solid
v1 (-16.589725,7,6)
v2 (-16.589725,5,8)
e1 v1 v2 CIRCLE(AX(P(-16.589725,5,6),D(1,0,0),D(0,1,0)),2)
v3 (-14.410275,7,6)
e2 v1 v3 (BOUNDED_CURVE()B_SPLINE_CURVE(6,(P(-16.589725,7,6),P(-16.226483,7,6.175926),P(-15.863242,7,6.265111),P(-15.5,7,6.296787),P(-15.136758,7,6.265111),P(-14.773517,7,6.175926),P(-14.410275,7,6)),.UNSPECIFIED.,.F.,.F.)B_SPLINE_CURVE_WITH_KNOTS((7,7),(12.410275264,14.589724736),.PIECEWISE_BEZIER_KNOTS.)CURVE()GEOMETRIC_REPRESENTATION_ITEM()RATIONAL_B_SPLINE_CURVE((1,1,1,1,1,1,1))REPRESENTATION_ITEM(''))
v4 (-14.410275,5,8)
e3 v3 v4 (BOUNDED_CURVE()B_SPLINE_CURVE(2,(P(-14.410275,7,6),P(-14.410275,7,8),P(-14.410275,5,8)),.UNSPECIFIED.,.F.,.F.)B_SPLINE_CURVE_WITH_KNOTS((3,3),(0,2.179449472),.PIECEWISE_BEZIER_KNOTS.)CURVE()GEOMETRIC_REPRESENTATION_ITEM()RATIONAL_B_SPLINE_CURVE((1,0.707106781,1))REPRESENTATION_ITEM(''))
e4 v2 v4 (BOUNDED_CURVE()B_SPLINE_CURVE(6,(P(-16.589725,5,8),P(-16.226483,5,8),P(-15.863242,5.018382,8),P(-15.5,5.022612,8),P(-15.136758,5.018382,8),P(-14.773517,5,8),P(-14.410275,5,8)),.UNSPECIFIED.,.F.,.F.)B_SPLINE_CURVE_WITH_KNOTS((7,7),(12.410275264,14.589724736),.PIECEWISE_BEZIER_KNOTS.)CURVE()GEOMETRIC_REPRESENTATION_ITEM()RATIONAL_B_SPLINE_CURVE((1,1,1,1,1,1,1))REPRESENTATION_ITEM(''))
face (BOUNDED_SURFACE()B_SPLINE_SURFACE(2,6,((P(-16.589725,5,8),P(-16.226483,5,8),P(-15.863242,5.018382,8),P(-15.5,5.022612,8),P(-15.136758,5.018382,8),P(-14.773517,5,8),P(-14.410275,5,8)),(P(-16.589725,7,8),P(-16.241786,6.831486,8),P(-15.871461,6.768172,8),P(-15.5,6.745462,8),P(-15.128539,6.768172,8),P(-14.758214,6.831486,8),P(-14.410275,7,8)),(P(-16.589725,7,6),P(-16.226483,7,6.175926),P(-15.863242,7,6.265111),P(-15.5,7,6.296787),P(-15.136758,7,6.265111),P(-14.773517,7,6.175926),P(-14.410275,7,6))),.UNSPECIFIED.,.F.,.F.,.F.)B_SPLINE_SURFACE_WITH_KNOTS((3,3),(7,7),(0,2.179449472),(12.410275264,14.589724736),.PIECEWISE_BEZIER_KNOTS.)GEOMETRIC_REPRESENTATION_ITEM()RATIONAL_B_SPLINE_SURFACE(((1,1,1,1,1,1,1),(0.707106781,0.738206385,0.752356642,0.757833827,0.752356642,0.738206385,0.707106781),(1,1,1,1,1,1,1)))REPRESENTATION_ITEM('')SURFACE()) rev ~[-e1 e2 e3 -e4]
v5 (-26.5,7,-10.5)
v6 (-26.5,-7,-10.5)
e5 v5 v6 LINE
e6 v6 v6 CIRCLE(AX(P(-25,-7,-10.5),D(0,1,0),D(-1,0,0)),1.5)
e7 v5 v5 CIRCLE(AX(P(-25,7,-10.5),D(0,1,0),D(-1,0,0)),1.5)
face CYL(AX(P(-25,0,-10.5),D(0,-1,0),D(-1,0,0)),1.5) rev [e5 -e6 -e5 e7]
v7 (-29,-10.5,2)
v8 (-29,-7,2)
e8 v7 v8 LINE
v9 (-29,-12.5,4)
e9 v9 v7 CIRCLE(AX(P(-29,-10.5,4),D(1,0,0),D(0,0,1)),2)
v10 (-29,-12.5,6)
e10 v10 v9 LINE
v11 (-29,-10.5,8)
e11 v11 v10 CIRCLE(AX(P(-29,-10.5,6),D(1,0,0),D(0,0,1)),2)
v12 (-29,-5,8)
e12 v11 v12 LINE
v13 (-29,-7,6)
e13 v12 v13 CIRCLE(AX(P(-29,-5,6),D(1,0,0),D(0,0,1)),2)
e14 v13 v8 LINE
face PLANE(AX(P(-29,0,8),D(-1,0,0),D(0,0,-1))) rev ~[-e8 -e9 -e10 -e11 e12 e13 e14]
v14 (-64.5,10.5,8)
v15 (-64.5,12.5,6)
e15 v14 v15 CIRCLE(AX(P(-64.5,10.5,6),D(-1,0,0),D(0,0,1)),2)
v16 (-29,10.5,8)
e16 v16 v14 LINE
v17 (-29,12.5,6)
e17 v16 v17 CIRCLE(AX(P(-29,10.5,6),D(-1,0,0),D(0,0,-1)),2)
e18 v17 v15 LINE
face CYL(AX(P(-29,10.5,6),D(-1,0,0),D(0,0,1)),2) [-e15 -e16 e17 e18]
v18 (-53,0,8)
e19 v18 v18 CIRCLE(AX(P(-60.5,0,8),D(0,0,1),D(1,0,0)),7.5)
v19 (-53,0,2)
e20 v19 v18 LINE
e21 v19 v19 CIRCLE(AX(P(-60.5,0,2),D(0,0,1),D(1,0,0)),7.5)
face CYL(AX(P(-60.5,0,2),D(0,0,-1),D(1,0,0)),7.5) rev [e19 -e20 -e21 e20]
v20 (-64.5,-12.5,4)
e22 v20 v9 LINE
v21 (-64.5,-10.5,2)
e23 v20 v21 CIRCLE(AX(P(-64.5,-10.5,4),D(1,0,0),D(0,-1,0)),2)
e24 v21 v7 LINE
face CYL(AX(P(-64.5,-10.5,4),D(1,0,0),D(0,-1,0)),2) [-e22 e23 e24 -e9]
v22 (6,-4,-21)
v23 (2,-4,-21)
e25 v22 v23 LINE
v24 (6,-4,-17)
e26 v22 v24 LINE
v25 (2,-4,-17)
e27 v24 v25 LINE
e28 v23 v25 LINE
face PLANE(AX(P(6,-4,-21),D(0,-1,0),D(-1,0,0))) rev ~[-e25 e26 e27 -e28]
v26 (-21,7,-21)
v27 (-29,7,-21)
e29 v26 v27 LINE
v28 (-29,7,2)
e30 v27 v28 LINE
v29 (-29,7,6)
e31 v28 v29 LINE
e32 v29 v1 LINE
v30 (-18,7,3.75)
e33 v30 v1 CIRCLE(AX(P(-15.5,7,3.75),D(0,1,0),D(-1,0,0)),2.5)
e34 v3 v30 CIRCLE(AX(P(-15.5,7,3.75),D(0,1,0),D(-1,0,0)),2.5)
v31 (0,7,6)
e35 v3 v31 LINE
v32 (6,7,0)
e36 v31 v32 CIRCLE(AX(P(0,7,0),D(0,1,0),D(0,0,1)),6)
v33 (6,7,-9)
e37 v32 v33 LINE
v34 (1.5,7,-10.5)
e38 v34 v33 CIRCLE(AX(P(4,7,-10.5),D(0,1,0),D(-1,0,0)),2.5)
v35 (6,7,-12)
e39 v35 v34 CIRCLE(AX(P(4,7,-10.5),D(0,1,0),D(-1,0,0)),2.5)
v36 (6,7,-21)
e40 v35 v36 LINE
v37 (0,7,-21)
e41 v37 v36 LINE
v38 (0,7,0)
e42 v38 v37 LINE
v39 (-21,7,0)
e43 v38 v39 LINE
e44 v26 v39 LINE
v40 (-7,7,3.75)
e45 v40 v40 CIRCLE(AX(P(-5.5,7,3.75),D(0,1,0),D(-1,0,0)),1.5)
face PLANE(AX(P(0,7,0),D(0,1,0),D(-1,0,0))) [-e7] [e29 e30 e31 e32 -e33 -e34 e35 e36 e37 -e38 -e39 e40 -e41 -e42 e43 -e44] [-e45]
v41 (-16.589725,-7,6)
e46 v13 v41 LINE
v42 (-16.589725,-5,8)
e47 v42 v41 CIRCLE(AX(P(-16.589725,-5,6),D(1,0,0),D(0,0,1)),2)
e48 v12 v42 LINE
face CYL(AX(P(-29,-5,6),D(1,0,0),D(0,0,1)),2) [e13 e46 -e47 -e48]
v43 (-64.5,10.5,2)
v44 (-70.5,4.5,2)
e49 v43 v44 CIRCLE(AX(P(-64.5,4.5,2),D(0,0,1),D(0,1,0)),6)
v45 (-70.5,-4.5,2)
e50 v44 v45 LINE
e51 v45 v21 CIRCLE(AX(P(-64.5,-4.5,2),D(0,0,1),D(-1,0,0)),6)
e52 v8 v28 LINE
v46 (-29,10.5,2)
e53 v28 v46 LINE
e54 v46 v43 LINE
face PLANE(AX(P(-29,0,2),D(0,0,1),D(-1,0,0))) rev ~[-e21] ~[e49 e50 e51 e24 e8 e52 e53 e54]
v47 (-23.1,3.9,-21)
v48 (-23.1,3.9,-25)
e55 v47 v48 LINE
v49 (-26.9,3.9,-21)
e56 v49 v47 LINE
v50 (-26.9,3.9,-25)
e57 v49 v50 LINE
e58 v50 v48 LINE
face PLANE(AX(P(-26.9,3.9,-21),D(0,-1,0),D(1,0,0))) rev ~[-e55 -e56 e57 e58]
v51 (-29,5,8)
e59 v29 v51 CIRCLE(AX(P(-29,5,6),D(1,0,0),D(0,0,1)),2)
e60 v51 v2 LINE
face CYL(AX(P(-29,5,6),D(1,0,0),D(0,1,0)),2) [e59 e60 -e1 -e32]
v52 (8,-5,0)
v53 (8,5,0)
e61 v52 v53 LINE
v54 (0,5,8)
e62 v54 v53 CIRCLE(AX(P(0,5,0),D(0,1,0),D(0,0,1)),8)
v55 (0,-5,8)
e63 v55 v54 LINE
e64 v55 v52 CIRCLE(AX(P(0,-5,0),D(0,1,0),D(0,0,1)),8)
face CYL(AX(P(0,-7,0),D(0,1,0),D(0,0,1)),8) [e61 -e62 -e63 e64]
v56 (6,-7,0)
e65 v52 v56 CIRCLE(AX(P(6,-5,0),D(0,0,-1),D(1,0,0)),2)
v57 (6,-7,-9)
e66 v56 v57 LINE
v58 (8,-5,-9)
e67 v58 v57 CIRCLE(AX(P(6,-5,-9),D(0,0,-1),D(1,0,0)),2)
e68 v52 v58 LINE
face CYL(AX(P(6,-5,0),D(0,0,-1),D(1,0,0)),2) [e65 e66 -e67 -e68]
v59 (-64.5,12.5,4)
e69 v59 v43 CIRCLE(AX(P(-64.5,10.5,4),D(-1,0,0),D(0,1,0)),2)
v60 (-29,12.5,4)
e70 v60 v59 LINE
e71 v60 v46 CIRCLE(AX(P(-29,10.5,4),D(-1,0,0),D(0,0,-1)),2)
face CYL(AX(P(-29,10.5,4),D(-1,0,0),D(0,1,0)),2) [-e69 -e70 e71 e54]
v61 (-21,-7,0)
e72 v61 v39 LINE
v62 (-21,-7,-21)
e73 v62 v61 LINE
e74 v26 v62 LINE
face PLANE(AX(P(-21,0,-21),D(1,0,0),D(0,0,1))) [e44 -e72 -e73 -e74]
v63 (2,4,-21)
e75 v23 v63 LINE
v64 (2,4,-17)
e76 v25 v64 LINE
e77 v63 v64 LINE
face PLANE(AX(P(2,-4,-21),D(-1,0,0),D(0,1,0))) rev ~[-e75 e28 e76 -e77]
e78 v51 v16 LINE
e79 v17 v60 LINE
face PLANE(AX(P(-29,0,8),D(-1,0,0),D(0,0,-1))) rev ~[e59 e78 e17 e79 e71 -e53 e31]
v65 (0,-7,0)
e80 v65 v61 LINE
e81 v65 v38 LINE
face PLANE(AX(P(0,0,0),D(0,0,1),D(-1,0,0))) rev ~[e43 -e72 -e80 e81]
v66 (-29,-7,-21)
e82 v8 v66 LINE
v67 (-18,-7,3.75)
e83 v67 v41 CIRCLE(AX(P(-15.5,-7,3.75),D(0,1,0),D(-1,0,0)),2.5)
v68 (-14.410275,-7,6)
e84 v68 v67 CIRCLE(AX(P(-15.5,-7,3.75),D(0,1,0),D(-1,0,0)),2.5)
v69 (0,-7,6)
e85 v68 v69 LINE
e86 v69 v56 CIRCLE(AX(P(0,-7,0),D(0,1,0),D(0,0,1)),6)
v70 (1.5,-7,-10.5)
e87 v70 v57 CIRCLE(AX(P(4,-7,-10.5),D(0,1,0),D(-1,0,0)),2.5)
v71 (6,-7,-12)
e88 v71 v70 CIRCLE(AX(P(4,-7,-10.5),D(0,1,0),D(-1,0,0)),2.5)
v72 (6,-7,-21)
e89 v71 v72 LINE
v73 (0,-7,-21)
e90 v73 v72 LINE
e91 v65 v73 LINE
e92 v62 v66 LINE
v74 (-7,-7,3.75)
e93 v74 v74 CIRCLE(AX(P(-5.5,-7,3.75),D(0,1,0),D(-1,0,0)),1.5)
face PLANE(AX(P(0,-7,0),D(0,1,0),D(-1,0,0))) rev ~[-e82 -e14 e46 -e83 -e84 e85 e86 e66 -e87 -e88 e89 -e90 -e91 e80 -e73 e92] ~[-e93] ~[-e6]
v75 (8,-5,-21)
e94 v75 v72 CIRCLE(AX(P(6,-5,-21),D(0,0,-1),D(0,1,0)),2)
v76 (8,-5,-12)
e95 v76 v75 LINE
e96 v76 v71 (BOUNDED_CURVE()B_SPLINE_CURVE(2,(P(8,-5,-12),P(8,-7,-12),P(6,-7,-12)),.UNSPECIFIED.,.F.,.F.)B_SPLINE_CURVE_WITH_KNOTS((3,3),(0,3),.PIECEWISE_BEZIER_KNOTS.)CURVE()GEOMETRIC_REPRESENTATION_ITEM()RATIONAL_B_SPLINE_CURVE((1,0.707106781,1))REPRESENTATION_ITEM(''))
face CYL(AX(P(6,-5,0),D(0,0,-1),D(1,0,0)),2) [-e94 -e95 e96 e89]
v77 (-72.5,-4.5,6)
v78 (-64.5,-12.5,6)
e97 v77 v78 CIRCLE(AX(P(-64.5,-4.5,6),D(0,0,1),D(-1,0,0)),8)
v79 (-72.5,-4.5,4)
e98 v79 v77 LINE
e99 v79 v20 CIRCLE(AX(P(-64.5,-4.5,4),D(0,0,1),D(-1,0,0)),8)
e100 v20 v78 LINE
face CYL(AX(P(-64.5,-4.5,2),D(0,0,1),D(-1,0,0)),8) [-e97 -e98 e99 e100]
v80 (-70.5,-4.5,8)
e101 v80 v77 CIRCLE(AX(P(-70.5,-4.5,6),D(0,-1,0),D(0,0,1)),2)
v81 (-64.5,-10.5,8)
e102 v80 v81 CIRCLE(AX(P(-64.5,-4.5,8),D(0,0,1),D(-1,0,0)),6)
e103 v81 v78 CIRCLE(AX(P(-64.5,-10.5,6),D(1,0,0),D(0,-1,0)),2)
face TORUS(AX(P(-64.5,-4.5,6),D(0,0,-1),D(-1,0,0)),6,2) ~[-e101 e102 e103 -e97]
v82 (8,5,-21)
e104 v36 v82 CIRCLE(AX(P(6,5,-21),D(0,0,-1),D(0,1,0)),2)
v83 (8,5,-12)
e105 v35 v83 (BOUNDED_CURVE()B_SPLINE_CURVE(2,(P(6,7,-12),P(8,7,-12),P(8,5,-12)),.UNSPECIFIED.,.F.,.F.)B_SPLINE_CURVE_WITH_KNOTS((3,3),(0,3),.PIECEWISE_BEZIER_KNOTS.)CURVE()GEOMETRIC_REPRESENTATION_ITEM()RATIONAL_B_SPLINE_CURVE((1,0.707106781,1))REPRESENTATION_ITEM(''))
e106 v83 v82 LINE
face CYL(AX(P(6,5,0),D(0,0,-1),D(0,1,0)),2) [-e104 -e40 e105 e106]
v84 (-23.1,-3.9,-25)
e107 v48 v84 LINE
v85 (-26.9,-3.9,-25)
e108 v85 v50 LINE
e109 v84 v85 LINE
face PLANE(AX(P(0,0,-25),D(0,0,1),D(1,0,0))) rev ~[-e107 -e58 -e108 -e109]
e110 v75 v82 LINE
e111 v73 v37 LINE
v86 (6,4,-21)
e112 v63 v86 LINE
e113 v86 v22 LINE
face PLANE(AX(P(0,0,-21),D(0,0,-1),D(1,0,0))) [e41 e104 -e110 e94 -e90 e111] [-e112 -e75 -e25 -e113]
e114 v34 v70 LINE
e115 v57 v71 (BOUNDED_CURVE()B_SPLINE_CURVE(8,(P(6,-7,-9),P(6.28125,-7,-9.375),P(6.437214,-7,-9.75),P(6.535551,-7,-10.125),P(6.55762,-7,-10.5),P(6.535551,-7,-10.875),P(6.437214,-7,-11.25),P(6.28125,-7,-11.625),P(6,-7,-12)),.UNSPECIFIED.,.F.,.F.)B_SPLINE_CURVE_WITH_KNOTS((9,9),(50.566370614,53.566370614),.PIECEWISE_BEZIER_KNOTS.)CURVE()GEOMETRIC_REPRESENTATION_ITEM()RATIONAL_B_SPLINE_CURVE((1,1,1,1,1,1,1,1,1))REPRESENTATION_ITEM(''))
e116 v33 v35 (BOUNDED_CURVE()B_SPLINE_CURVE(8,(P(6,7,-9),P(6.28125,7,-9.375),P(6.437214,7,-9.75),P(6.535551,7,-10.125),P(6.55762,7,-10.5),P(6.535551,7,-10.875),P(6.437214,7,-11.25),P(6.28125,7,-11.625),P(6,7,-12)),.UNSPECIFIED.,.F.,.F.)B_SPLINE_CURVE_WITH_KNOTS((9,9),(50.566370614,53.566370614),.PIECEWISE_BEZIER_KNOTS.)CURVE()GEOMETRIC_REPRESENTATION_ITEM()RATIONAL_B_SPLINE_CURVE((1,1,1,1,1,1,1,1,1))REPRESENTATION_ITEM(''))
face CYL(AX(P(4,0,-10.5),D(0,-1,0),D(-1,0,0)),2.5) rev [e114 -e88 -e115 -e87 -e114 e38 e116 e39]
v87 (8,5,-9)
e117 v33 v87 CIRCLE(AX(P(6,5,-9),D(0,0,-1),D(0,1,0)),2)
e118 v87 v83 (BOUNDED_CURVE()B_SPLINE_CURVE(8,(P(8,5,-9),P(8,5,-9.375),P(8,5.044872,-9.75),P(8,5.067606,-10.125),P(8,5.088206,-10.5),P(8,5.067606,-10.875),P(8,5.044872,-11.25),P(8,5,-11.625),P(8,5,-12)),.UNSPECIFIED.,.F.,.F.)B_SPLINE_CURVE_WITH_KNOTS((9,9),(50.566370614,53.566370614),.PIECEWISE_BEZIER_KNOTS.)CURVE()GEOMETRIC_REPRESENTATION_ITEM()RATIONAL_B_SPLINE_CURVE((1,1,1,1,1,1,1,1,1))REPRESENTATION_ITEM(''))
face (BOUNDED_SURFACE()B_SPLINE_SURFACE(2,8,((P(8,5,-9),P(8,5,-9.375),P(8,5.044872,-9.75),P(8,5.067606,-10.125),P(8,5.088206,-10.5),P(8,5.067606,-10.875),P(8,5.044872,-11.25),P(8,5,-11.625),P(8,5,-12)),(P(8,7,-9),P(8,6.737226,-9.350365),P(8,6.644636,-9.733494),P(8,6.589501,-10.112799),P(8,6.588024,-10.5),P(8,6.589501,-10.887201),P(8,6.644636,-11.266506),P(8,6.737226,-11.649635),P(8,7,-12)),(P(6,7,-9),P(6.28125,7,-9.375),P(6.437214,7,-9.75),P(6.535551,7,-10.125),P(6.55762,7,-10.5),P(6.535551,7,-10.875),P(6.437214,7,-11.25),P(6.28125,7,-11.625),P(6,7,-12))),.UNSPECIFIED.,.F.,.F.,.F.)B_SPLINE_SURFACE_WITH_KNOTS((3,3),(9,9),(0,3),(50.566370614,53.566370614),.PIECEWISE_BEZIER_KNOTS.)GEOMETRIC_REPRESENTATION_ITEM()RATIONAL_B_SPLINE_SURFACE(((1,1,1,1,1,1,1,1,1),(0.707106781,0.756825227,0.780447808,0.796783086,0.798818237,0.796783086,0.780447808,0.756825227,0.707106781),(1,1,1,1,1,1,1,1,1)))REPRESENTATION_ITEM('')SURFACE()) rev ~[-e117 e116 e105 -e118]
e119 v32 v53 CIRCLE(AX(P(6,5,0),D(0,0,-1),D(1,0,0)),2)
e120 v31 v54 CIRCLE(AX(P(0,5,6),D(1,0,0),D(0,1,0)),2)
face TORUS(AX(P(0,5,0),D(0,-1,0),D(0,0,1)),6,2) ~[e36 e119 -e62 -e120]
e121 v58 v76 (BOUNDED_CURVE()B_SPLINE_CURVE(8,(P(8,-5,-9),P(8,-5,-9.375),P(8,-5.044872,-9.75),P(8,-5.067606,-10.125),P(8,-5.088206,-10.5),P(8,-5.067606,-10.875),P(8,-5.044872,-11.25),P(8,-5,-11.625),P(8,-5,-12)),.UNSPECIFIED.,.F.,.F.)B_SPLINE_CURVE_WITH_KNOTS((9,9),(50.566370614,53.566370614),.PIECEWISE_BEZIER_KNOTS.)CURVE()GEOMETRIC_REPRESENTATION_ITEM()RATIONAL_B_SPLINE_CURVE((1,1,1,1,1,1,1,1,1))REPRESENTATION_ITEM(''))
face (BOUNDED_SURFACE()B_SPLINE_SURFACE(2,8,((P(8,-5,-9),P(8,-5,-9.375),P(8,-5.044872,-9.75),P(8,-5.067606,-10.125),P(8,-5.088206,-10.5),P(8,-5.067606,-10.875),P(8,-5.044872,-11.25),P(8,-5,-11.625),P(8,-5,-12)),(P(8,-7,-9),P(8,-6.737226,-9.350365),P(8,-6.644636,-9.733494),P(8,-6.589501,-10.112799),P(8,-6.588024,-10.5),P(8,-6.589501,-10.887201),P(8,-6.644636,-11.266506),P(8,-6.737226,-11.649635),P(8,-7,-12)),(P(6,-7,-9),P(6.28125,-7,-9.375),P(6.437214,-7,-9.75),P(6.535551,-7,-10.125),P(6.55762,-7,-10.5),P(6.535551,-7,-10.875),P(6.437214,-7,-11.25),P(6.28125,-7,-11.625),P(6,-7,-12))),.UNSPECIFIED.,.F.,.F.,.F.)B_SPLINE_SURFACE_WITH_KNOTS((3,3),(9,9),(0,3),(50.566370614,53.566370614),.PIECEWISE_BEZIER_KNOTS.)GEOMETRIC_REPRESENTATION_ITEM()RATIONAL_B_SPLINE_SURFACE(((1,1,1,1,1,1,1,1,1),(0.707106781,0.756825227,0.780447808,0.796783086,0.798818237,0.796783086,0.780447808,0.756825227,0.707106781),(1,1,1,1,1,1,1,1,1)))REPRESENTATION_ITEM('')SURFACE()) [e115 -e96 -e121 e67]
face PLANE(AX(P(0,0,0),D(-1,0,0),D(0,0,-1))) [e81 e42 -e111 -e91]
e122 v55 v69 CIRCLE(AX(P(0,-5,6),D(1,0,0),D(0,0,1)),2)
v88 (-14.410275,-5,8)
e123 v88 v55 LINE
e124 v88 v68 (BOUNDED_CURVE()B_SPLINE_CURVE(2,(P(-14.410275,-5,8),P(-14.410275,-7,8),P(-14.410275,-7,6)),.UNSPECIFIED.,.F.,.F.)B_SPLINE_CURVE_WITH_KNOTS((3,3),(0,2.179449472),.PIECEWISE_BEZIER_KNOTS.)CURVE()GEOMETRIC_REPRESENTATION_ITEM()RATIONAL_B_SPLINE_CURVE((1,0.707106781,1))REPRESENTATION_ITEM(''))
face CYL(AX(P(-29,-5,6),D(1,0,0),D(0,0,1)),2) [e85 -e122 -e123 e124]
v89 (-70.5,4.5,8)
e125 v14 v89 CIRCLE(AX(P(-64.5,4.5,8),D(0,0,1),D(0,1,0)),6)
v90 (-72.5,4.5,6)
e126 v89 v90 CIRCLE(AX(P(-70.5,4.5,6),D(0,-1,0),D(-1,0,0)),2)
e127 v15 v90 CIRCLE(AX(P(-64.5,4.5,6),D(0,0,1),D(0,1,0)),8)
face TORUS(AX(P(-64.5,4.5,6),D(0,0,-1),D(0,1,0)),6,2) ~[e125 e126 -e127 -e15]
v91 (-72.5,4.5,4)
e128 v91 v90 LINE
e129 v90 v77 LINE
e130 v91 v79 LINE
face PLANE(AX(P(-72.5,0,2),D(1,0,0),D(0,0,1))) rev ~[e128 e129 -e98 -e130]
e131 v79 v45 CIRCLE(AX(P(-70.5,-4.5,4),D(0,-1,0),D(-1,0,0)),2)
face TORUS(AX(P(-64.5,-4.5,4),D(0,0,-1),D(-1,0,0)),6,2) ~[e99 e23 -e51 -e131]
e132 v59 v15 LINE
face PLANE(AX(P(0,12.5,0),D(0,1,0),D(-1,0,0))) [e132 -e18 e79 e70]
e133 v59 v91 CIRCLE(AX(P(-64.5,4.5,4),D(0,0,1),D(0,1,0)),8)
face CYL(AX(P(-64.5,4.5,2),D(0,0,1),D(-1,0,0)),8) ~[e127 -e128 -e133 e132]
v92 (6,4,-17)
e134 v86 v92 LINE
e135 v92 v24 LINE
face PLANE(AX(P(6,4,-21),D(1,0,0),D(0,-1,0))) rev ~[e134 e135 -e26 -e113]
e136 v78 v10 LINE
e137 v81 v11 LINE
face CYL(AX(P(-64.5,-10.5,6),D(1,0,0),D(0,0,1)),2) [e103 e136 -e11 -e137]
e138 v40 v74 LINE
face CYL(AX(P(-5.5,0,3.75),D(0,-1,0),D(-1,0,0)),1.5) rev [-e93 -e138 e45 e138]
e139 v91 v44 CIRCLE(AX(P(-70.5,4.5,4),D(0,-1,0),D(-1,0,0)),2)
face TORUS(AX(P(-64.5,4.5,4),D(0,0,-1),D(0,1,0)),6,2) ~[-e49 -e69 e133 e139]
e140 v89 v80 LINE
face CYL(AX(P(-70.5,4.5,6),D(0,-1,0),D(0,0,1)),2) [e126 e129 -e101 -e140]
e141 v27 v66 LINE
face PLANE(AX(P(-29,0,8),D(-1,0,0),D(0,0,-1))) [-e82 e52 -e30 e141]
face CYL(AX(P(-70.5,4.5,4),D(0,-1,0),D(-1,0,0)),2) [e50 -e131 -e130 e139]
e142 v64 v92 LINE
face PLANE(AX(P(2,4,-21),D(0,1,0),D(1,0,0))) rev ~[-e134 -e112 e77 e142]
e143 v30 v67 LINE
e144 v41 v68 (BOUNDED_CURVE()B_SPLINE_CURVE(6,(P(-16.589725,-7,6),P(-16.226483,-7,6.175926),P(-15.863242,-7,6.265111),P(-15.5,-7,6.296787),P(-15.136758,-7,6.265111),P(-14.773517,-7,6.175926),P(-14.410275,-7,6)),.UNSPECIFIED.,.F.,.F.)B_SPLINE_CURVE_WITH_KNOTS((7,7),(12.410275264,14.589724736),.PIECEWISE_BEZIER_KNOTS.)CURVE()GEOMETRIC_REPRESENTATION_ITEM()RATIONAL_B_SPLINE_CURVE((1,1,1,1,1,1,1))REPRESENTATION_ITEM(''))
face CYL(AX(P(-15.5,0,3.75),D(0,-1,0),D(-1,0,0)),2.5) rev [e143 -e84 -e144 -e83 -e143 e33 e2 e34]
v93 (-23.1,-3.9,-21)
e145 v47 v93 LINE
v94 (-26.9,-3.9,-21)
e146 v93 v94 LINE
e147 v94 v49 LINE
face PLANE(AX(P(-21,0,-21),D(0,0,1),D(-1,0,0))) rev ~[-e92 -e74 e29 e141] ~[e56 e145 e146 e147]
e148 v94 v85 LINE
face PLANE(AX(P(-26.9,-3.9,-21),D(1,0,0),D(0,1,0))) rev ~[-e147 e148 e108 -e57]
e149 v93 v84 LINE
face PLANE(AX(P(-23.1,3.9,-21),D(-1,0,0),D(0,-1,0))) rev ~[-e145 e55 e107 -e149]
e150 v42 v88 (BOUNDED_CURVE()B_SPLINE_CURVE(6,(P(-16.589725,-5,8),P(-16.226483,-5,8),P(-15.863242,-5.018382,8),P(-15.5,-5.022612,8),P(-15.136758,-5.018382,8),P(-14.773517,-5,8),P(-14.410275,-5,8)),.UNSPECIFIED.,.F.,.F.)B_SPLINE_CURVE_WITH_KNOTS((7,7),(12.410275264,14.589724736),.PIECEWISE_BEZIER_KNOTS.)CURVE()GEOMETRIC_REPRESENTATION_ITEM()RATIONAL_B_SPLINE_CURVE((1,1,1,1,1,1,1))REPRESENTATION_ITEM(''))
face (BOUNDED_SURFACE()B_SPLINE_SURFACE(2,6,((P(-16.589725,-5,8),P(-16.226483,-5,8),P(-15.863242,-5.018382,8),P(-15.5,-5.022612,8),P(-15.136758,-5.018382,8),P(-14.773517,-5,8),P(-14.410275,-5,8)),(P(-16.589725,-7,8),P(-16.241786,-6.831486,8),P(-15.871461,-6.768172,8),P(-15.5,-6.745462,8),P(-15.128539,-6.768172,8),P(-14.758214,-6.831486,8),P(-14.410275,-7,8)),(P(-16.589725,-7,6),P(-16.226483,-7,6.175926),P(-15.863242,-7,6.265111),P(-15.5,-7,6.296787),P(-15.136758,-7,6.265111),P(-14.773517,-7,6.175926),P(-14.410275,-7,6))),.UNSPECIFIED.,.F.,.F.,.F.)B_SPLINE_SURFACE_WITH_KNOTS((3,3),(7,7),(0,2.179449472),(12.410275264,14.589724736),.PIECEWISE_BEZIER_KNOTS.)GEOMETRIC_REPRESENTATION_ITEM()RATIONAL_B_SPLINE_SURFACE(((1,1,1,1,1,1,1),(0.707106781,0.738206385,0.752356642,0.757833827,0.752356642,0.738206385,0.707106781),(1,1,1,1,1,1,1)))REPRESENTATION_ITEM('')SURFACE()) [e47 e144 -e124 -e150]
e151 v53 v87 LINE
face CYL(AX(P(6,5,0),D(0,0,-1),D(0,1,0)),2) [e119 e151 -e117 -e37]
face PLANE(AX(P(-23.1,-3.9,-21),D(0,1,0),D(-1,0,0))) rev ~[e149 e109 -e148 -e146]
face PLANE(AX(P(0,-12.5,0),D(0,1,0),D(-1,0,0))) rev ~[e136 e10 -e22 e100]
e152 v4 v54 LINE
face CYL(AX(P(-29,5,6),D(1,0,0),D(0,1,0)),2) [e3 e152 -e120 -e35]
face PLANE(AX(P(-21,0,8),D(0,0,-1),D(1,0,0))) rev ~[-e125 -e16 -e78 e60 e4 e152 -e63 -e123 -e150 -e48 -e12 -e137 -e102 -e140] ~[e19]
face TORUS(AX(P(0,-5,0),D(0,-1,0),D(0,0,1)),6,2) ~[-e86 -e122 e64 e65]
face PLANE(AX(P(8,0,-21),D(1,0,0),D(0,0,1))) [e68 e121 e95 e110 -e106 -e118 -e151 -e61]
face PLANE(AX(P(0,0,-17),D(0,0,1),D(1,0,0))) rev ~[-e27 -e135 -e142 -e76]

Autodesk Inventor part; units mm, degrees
ref_plane "YZ Plane" through (0, 0, 0) normal (1, 0, 0) x (0, 1, 0)
sketch "Sketch1" plane through (0, 0, 0) normal (0, 1, 0) x (-1, 0, 0)
  line L0 (0, 0) -> (21, 0)
  circle A0 centre (5.5, 3.75) radius 1.5
  line L1 (29, 8) -> (-8, 8)
  line L2 (10.5, 8) -> (10.5, 0) construction
  line L3 (0, -21) -> (-8, -21)
  line L4 (29, 2) -> (72.5, 2)
  line L5 (72.5, 2) -> (72.5, 8)
  line L6 (72.5, 8) -> (29, 8)
  line L7 (29, 8) -> (29, 2)
  line L8 (21, 0) -> (21, 8)
  line L9 (0, 0) -> (0, 8)
  circle A1 centre (15.5, 3.75) radius 2.5
  line L10 (0, 0) -> (0, -21)
  line L11 (-8, -21) -> (-8, 8)
  line L12 (21, -21) -> (21, 0)
  line L13 (29, -21) -> (29, 2)
  line L14 (21, -21) -> (29, -21)
  circle A2 centre (-4, -10.5) radius 2.5
  circle A3 centre (25, -10.5) radius 1.5
  point P0 (29, 8)
  point P1 (21, 8)
  point P2 (-4, -21)
  dimension "d1" = 21
  dimension "d15" = 3.75
  dimension "d16" = 5
  dimension "d51" = 6
  dimension "d148" = 5
  dimension "d149" = 3.75
  dimension "d150" = 5
  dimension "d151" = 3
  dimension "d152" = 8
  dimension "d154" = 37
  dimension "d155" = 10.5
  dimension "d158" = 21
  dimension "d160" = 8
  dimension "d162" = 8
  dimension "d164" = 21
  dimension "d165" = 29
  dimension "d166" = 29
  dimension "d169" = 62
  dimension "d170" = 4
  dimension "d171" = 5
  dimension "d172" = 10.5
  dimension "d173" = 4
  dimension "d174" = 3
  dimension "d175" = 10.5
extrude "Extrusion1" add sketch "Sketch1" along normal mid plane 14 contours L9 L1 L8 L0 | L10 L3 L11 L1 L9 | L8 L1 L7 L13 L14 L12
extrude "Extrusion2" add sketch "Sketch1" along normal mid plane 25 contours L6 L5 L4 L7
fillet "Fillet4" radius 8 3 edges at (-72.5, 12.5, 5) (-72.5, -12.5, 5) (8, 0, 8)
ref_plane "Work Plane3" through (0, 0, 2) normal (0, 0, 1) x (1, 0, 0)
sketch "Sketch5" plane through (0, 0, 2) normal (0, 0, 1) x (1, 0, 0)
  line L0 (-29, -7) -> (-29, 7) projected
  circle A0 centre (-60.5, 0) radius 7.5
  line L1 (-21, -7) -> (0, -7) projected
  line L2 (-29, 12.5) -> (-64.5, 12.5) projected
  point P0 (0, 0)
  point P1 (-12.116, -8.0773)
  point P2 (-29, 0)
  point P3 (-10.5, -7)
  dimension "d195" = 15
  dimension "d196" = 50
  dimension "d197" = 12.5
extrude "Extrusion6" cut sketch "Sketch5" along normal blind 6
fillet "Fillet12" radius 2 13 edges at (-72.5, 0, 8) (-46.75, 12.5, 8) (-70.1569, -10.1569, 2) (-72.5, 0, 2) (-70.1569, 10.1569, 2) (-46.75, 12.5, 2) (-46.75, -12.5, 2) (5.6569, 7, 5.6569) (8, 7, -10.5) (-14.5, 7, 8) (5.6569, -7, 5.6569) (8, -7, -10.5) (-14.5, -7, 8)
ref_plane "Work Plane4" through (0, 0, -21) normal (0, 0, 1) x (1, 0, 0)
sketch "Sketch6" plane through (0, 0, -21) normal (0, 0, 1) x (1, 0, 0)
  line L0 (6, -4) -> (2, -4)
  line L1 (2, -4) -> (2, 4)
  line L2 (2, 4) -> (6, 4)
  line L3 (6, 4) -> (6, -4)
  line L4 (6, -4) -> (2, 4) construction
  line L5 (2, -4) -> (6, 4) construction
  line L6 (0, -7) -> (0, 7) projected
  line L7 (-23.1, -3.9) -> (-26.9, -3.9)
  line L8 (-26.9, -3.9) -> (-26.9, 3.9)
  line L9 (-26.9, 3.9) -> (-23.1, 3.9)
  line L10 (-23.1, 3.9) -> (-23.1, -3.9)
  line L11 (-23.1, -3.9) -> (-26.9, 3.9) construction
  line L12 (-26.9, -3.9) -> (-23.1, 3.9) construction
  line L13 (-21, -7) -> (-21, 7) projected
  point P0 (0, 0)
  point P1 (4, 0)
  point P2 (0, 0)
  point P3 (0, 0)
  point P4 (-25, 0)
  point P5 (-21, 0)
  dimension "d183" = 8
  dimension "d184" = 4
  dimension "d185" = 4
  dimension "d186" = 0
  dimension "d187" = 7.8
  dimension "d188" = 3.8
  dimension "d189" = 4
  dimension "d190" = 0
extrude "Extrusion12" add sketch "Sketch6" against normal blind 4 contours L7 L8 L9 L10
extrude "Extrusion13" cut sketch "Sketch6" along normal blind 4 contours L0 L1 L2 L3
equation "\"HoleDiameter\" = 3"
equation "\"InsertDiameter\" = 5"
equation "\"CoxaWidth\" = 25"
equation "\"SlotWidth1\" = 4"
equation "\"SlotLength1\" = 8"
equation "\"SlotHeight1\" = 4"
properties part number "ServoMount"
